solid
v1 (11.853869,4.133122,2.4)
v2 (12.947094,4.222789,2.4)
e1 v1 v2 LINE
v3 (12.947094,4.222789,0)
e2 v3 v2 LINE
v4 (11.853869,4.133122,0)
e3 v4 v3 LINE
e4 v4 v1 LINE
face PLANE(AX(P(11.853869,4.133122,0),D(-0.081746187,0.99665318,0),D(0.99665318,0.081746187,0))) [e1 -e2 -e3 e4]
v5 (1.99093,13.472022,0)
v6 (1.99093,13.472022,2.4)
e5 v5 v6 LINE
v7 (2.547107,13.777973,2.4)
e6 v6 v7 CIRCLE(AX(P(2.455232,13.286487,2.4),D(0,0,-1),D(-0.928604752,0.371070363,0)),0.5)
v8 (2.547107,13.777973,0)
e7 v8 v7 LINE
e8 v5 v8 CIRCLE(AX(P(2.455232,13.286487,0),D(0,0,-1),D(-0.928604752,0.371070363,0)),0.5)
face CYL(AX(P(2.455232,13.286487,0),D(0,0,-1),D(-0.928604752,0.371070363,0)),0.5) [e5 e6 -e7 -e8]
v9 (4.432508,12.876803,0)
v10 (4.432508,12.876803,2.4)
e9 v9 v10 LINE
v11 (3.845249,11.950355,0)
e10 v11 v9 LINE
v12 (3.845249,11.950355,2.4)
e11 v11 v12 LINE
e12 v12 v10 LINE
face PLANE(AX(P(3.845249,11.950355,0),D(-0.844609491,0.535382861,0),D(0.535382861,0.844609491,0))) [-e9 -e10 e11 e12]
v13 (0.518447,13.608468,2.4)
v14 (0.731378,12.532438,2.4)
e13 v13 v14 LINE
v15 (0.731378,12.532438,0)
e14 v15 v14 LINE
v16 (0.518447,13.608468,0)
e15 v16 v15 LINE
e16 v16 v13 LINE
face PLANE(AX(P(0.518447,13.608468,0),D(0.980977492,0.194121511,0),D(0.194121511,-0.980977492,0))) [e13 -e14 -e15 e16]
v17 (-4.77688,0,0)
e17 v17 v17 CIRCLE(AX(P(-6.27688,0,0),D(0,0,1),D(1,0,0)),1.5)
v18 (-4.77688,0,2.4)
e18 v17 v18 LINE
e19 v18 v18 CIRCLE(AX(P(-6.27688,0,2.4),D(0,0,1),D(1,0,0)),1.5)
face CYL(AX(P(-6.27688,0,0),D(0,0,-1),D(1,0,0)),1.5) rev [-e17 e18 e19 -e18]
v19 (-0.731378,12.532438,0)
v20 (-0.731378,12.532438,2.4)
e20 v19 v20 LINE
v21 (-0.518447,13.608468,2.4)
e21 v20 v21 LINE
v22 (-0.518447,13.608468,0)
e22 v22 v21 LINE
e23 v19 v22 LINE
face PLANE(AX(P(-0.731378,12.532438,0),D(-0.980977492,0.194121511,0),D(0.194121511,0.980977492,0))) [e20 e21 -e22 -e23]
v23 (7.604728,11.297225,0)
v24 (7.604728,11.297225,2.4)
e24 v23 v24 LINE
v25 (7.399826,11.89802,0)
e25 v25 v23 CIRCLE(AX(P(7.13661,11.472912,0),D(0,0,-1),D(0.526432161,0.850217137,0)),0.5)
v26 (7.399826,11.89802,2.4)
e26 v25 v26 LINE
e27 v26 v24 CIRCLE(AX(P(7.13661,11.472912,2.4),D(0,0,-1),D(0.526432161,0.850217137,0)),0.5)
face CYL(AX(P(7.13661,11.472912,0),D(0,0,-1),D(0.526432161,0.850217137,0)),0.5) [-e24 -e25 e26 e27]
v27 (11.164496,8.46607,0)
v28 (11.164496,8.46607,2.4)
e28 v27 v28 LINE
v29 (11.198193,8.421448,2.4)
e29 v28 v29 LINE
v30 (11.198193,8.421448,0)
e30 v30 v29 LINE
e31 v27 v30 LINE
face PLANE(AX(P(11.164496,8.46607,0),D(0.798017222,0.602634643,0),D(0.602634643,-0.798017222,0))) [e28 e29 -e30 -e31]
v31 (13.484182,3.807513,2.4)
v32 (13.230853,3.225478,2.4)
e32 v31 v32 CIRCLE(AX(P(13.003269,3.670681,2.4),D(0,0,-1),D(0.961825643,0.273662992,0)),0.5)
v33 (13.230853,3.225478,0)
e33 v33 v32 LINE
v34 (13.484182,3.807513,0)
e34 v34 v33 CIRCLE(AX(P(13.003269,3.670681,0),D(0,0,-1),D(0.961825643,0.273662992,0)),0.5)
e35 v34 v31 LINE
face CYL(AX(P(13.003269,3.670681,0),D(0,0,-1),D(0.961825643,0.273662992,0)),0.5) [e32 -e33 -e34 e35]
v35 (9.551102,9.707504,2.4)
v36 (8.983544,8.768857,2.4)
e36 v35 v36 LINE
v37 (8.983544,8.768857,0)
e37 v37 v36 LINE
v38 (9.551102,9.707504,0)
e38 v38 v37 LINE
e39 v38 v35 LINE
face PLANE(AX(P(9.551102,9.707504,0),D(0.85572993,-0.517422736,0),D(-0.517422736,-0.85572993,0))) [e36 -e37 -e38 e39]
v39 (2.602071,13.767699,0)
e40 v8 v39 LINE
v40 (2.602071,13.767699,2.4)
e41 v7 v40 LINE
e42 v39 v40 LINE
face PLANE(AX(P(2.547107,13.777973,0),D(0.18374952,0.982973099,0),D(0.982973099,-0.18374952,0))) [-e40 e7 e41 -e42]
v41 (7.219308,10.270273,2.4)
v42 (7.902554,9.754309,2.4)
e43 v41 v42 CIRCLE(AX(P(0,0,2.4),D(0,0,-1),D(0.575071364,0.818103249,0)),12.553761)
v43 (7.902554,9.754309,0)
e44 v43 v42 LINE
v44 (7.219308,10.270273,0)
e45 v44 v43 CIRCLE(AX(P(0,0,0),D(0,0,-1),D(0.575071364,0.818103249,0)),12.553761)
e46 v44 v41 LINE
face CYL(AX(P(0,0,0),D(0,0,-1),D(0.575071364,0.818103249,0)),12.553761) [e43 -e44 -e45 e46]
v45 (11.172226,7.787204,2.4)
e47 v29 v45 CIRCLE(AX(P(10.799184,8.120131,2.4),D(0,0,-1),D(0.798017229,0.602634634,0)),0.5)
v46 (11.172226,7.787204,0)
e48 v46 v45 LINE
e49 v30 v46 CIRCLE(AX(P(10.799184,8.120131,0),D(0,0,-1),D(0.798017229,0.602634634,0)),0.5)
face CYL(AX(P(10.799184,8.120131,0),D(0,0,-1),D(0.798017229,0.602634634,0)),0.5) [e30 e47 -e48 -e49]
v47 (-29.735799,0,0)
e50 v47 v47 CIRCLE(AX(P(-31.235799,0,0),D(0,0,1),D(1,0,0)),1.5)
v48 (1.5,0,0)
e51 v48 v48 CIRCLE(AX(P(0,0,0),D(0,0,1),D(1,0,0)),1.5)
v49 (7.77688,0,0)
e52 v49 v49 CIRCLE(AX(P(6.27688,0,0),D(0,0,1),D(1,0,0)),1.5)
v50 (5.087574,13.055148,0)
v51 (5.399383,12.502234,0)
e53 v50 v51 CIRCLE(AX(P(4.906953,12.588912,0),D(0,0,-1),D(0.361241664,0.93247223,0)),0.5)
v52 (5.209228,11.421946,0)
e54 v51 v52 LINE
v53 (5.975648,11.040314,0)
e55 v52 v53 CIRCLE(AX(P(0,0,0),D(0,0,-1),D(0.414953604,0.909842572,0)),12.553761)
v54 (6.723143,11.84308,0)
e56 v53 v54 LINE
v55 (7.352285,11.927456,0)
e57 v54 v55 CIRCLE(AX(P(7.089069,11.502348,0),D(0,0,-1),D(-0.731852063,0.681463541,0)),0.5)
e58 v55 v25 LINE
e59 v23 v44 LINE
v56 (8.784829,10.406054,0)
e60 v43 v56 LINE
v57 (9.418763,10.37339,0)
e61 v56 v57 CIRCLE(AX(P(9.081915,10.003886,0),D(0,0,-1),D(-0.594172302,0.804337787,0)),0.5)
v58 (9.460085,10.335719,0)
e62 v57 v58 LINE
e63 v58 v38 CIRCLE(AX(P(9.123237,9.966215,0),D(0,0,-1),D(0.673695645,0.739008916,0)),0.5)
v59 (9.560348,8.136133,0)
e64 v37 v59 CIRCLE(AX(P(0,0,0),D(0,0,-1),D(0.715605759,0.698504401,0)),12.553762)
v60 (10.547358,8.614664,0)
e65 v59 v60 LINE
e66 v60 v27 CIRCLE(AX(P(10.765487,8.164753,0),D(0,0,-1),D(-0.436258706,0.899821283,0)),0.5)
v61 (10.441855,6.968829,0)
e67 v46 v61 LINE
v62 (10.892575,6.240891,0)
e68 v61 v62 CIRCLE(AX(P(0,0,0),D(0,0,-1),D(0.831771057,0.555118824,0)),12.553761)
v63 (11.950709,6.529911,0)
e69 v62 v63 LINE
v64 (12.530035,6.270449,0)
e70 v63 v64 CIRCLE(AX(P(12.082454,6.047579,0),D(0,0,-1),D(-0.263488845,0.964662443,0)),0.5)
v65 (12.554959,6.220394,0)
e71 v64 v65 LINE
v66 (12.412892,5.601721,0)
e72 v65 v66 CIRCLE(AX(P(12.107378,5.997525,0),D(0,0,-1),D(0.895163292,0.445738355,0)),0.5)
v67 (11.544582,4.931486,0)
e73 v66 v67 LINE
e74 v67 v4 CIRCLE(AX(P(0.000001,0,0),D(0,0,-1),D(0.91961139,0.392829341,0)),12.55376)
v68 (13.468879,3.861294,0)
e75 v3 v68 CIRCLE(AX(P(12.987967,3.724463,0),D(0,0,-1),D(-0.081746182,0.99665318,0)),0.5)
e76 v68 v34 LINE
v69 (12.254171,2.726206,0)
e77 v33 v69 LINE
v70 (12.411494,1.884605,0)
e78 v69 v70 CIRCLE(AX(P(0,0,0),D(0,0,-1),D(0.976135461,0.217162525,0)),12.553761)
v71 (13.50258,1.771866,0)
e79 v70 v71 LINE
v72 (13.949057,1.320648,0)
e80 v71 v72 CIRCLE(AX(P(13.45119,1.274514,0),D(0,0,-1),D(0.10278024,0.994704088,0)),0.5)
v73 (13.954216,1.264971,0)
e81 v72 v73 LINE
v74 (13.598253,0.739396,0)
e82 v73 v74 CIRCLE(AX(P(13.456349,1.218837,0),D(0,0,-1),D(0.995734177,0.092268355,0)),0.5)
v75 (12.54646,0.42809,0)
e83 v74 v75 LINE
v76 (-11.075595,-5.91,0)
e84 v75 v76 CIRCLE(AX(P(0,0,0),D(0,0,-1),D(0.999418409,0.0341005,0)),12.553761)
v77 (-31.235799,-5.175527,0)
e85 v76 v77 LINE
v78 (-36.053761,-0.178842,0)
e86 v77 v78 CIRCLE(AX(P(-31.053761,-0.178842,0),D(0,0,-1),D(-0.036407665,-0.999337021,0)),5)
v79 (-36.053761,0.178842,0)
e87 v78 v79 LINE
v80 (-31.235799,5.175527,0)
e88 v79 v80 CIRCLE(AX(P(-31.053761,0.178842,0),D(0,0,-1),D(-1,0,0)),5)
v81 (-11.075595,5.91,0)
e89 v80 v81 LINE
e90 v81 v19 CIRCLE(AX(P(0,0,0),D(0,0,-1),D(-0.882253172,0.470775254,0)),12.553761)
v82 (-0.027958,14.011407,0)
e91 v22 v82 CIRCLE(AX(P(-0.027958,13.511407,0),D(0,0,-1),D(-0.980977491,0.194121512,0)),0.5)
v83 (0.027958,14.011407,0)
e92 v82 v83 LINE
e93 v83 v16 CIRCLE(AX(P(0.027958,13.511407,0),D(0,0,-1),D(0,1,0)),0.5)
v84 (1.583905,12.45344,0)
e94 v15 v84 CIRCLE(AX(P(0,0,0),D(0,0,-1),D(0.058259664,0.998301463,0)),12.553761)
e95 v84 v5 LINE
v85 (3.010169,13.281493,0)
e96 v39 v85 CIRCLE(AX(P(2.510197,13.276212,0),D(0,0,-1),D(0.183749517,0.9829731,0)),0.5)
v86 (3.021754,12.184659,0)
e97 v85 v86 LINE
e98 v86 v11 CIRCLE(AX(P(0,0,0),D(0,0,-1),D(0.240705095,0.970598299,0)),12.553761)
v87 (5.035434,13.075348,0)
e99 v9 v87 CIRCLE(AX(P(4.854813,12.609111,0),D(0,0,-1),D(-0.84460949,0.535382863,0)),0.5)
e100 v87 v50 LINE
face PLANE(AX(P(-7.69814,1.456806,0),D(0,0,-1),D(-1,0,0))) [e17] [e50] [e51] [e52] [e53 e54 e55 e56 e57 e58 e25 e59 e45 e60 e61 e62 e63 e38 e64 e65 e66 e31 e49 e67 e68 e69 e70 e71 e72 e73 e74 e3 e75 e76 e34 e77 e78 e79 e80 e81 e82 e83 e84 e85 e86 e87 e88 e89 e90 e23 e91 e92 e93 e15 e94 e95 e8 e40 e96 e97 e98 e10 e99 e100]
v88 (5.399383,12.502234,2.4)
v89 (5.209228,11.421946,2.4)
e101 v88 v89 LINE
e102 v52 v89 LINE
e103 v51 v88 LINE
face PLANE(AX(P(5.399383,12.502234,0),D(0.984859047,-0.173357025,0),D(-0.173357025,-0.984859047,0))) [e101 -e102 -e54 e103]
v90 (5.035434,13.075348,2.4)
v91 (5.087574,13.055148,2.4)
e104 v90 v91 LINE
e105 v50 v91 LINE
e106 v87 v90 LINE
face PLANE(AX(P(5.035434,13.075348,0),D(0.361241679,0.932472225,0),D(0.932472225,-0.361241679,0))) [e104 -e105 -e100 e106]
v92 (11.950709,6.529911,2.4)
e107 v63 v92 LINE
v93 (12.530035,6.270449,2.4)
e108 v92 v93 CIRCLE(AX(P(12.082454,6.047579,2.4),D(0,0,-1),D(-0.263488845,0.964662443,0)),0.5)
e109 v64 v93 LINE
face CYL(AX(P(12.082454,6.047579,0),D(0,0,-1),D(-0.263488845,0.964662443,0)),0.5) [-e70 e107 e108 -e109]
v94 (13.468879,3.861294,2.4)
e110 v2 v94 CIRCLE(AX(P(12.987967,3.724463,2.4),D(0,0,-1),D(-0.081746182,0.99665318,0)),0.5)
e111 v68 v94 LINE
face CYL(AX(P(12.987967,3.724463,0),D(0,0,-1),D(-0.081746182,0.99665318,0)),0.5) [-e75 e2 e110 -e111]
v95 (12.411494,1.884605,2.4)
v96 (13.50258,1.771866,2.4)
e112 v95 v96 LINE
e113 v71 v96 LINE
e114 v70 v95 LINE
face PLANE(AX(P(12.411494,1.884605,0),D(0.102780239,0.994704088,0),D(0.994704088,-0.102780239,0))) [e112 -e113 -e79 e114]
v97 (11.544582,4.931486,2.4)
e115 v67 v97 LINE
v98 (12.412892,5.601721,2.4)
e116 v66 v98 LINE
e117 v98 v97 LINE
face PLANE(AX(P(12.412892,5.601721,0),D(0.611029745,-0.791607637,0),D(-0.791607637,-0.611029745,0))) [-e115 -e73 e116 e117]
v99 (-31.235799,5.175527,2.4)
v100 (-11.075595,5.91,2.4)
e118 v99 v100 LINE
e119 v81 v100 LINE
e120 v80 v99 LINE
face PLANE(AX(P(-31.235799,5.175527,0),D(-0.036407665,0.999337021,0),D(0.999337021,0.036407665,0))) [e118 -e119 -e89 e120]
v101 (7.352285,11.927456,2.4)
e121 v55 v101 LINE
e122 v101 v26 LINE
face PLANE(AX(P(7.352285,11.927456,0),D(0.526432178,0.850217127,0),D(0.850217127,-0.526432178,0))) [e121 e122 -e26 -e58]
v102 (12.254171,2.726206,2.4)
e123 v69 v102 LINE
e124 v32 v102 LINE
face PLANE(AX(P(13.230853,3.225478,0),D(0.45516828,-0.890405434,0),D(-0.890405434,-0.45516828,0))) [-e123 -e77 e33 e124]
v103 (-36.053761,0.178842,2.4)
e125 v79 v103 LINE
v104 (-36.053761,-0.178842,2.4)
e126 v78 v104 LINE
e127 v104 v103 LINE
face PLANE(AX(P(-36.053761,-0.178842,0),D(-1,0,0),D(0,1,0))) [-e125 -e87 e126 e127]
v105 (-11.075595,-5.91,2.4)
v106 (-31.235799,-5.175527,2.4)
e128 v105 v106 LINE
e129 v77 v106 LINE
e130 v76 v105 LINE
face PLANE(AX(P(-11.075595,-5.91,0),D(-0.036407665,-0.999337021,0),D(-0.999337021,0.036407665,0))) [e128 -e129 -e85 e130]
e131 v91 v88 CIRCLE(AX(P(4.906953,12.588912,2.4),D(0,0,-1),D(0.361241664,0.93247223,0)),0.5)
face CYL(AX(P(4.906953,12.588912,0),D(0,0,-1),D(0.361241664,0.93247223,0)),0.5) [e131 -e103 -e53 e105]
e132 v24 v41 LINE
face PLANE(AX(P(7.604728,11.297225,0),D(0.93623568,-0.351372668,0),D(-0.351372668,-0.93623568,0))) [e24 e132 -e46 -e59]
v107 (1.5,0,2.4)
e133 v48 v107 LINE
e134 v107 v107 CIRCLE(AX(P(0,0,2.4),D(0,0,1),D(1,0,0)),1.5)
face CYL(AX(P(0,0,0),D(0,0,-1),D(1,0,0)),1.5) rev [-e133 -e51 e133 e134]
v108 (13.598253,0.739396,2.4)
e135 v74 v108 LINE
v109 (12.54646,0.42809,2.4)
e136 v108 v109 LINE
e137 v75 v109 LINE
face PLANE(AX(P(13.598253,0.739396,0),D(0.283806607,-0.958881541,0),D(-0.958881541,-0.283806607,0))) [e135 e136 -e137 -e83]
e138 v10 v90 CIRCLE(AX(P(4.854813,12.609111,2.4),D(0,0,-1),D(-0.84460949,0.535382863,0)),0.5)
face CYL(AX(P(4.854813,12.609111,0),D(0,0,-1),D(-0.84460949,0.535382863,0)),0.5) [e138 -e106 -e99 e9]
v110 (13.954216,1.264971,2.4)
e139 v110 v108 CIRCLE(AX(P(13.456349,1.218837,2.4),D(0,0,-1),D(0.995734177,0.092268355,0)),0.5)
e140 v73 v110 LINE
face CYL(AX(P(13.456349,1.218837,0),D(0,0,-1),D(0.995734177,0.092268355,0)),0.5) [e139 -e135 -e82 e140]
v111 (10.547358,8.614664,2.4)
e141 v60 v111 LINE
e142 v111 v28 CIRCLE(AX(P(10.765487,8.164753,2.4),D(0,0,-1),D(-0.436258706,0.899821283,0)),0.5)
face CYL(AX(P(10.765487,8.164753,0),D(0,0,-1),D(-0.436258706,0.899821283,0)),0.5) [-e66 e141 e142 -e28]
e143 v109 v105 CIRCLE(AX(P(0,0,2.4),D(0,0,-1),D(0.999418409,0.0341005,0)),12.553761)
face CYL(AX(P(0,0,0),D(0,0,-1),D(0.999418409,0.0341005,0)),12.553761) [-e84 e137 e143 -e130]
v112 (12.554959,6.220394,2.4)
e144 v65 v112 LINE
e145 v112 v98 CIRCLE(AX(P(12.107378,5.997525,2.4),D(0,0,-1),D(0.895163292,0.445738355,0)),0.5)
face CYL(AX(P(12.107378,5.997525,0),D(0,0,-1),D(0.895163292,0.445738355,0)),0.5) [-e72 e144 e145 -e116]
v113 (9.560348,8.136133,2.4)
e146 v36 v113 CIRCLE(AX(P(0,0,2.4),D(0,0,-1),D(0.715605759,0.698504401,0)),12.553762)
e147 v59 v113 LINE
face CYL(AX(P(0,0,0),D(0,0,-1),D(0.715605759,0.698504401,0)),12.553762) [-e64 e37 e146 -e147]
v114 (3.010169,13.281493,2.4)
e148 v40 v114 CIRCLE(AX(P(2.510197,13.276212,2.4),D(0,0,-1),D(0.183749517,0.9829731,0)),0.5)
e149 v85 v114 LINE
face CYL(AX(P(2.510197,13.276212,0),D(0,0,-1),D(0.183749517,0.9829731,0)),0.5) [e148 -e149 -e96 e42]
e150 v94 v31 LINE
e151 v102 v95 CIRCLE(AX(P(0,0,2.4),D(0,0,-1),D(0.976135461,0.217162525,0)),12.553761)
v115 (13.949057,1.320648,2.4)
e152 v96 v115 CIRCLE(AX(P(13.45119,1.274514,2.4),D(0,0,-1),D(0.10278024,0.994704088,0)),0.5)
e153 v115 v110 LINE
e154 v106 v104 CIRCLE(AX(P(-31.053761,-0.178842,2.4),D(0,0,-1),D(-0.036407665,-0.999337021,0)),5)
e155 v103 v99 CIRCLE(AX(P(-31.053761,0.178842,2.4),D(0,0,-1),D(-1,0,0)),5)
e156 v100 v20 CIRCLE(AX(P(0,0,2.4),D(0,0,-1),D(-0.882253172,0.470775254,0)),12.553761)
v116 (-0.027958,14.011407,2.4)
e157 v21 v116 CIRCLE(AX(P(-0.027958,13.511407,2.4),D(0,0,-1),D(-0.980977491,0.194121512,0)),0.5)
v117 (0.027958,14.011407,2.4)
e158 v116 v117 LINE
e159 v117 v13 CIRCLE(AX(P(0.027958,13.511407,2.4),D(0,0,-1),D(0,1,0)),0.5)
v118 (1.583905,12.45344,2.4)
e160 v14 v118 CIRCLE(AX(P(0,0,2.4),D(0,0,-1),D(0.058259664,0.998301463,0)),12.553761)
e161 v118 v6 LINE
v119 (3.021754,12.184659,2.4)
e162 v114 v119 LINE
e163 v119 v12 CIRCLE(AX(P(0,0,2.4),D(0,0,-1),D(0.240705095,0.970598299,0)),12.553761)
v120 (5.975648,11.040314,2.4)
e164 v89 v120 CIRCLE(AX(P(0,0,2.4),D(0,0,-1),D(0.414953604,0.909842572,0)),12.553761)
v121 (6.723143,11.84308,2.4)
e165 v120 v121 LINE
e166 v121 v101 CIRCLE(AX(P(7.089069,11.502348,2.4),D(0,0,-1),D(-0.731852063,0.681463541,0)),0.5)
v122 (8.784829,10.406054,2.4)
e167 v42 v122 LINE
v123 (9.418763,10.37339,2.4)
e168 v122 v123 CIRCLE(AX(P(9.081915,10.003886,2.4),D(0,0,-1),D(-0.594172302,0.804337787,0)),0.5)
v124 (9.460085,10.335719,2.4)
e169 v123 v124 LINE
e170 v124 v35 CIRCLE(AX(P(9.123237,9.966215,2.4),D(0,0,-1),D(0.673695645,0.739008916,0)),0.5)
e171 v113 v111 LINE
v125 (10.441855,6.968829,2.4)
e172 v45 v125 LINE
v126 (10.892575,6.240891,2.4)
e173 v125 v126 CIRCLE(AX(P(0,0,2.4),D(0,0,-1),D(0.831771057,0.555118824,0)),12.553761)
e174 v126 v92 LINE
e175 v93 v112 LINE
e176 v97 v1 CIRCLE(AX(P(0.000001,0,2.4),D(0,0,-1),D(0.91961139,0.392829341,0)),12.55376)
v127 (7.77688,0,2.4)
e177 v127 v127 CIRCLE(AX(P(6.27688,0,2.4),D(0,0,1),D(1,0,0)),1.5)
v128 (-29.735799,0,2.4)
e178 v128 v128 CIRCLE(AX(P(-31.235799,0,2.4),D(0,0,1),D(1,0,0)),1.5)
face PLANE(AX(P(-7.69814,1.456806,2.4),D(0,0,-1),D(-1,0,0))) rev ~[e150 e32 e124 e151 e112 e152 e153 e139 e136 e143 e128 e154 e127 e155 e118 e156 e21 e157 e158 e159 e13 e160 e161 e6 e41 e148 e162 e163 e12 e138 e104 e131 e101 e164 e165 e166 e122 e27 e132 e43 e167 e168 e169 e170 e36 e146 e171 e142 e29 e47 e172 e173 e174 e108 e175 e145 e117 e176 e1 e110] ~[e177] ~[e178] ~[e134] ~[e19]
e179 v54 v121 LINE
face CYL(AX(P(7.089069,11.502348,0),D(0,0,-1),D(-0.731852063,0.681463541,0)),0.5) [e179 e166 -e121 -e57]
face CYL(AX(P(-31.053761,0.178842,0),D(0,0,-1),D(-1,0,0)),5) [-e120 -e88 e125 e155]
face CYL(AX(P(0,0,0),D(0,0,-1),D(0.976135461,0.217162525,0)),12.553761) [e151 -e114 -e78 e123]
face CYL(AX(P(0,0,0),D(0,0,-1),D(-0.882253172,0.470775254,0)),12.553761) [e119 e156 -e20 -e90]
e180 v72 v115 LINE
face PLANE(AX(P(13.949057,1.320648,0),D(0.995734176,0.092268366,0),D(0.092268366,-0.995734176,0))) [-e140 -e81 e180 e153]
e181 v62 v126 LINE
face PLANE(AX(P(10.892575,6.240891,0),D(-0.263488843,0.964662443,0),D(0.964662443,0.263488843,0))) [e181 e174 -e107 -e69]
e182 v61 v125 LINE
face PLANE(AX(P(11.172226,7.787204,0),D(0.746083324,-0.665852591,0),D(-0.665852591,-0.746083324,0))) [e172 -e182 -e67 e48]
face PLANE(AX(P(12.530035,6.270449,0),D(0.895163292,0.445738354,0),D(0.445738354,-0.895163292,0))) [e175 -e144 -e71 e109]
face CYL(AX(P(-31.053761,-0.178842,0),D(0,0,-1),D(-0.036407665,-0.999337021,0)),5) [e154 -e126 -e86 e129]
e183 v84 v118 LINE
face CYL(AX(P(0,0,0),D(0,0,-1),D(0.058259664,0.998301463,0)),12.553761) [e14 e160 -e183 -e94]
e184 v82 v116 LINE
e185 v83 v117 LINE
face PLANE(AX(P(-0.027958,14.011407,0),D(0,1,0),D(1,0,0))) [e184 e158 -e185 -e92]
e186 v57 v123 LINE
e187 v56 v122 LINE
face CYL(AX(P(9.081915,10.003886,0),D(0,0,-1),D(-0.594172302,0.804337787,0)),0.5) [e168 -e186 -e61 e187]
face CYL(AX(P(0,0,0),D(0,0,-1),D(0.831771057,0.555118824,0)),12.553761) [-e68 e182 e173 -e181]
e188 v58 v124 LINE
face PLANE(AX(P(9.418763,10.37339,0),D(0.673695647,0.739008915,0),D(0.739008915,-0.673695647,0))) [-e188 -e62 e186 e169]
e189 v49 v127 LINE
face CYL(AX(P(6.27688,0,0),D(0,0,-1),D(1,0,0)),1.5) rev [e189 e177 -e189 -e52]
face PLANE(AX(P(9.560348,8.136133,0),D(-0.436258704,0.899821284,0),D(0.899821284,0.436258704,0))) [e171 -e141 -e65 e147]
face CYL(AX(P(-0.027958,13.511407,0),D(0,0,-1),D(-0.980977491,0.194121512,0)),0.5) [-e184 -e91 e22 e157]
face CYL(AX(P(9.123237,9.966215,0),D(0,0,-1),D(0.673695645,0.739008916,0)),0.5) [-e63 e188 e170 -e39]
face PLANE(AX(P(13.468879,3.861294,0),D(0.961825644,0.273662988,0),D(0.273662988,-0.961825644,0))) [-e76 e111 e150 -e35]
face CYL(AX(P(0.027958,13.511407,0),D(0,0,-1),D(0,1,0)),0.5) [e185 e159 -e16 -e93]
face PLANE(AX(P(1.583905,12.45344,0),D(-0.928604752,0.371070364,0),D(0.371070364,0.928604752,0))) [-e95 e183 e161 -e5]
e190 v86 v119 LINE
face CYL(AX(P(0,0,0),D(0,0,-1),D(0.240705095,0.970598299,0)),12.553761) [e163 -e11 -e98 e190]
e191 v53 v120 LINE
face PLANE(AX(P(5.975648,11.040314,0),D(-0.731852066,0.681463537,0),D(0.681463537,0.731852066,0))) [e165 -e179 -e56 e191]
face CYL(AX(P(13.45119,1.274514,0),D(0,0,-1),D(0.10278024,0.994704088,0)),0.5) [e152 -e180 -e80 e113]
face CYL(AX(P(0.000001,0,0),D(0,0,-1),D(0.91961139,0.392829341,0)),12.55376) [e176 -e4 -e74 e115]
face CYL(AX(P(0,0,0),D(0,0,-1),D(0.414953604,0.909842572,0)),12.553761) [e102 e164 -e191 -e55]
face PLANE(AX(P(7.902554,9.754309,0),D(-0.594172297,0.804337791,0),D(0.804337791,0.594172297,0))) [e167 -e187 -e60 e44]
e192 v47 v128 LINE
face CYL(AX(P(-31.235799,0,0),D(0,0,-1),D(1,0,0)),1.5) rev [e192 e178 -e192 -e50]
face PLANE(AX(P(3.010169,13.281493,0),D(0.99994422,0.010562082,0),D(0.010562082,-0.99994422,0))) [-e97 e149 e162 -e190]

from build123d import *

# Parameters (mm, degrees)
SKETCH1_R           = 1.5
BOSS_EXTRUDE1_DEPTH = 2.4


with BuildPart() as part:
    # Sketch1 → Boss-Extrude1 (new body)
    with BuildSketch(Plane.XY):
        with BuildLine():
            Line((2.547107201, 13.777973489), (2.60207137, 13.767698905))
            ThreePointArc((2.60207137, 13.767698905), (2.893171321, 13.597662774), (3.010168721, 13.281493396))
            Line((3.010168721, 13.281493396), (3.021754222, 12.184659018))
            ThreePointArc((3.021754222, 12.184659018), (3.435499758, 12.074529199), (3.845249182, 11.950354501))
            Line((3.845249182, 11.950354501), (4.432508267, 12.876802904))
            ThreePointArc((4.432508267, 12.876802904), (4.698423191, 13.084024332), (5.035433845, 13.075347588))
            Line((5.035433845, 13.075347588), (5.087574195, 13.055148308))
            ThreePointArc((5.087574195, 13.055148308), (5.342473559, 12.83451789), (5.399382885, 12.502233681))
            Line((5.399382885, 12.502233681), (5.209228333, 11.421946163))
            ThreePointArc((5.209228333, 11.421946163), (5.595692764, 11.23766597), (5.975648384, 11.040314323))
            Line((5.975648384, 11.040314323), (6.723142715, 11.843079608))
            ThreePointArc((6.723142715, 11.843079608), (7.02260677, 11.997910958), (7.35228483, 11.927456407))
            Line((7.35228483, 11.927456407), (7.399825783, 11.898020294))
            ThreePointArc((7.399825783, 11.898020294), (7.609844268, 11.634308893), (7.604727542, 11.297225393))
            Line((7.604727542, 11.297225393), (7.219308422, 10.27027263))
            ThreePointArc((7.219308422, 10.27027263), (7.565331165, 10.018117505), (7.902554048, 9.754309483))
            Line((7.902554048, 9.754309483), (8.784828602, 10.406054439))
            ThreePointArc((8.784828602, 10.406054439), (9.107643898, 10.503223117), (9.418762572, 10.373390003))
            Line((9.418762572, 10.373390003), (9.460085179, 10.335719469))
            ThreePointArc((9.460085179, 10.335719469), (9.618070857, 10.03790746), (9.551102323, 9.707503643))
            Line((9.551102323, 9.707503643), (8.98354362, 8.76885728))
            ThreePointArc((8.98354362, 8.76885728), (9.277341286, 8.457414063), (9.560347713, 8.136133332))
            Line((9.560347713, 8.136133332), (10.547357686, 8.614663568))
            ThreePointArc((10.547357686, 8.614663568), (10.882531136, 8.650860609), (11.164495652, 8.466070244))
            Line((11.164495652, 8.466070244), (11.198192721, 8.421448114))
            ThreePointArc((11.198192721, 8.421448114), (11.298765579, 8.099677128), (11.172225769, 7.7872045))
            Line((11.172225769, 7.7872045), (10.441855016, 6.968829012))
            ThreePointArc((10.441855016, 6.968829012), (10.673422677, 6.608703529), (10.892575202, 6.240890918))
            Line((10.892575202, 6.240890918), (11.950709155, 6.529910661))
            ThreePointArc((11.950709155, 6.529910661), (12.286826829, 6.503903419), (12.530035223, 6.270448618))
            Line((12.530035223, 6.270448618), (12.55495924, 6.220394444))
            ThreePointArc((12.55495924, 6.220394444), (12.594694391, 5.885622006), (12.412892467, 5.601721447))
            Line((12.412892467, 5.601721447), (11.544581562, 4.931485631))
            ThreePointArc((11.544581562, 4.931485631), (11.70603346, 4.534941522), (11.853869106, 4.133122449))
            Line((11.853869106, 4.133122449), (12.947093557, 4.222789479))
            ThreePointArc((12.947093557, 4.222789479), (13.27270937, 4.135463598), (13.468879472, 3.861294384))
            Line((13.468879472, 3.861294384), (13.48418168, 3.807512701))
            ThreePointArc((13.48418168, 3.807512701), (13.461725991, 3.471139085), (13.230852999, 3.225478489))
            Line((13.230852999, 3.225478489), (12.254171229, 2.726206422))
            ThreePointArc((12.254171229, 2.726206422), (12.340009313, 2.306747521), (12.411493716, 1.884605453))
            Line((12.411493716, 1.884605453), (13.502580216, 1.771866265))
            ThreePointArc((13.502580216, 1.771866265), (13.806605713, 1.626195525), (13.949057185, 1.320648401))
            Line((13.949057185, 1.320648401), (13.954216486, 1.26497068))
            ThreePointArc((13.954216486, 1.26497068), (13.870334657, 0.938450687), (13.598252701, 0.73939573))
            Line((13.598252701, 0.73939573), (12.546459793, 0.428089522))
            ThreePointArc((12.546459793, 0.428089522), (3.253260702, -12.124900362), (-11.075595423, -5.91))
            Line((-11.075595423, -5.91), (-31.235799276, -5.175527107))
            ThreePointArc((-31.235799276, -5.175527107), (-34.653079748, -3.649418925), (-36.053760949, -0.178842001))
            Line((-36.053760949, -0.178842001), (-36.053760949, 0.178842001))
            ThreePointArc((-36.053760949, 0.178842001), (-34.653079748, 3.649418925), (-31.235799276, 5.175527107))
            Line((-31.235799276, 5.175527107), (-11.075595423, 5.91))
            ThreePointArc((-11.075595423, 5.91), (-6.768701925, 10.572681222), (-0.731377895, 12.532437925))
            Line((-0.731377895, 12.532437925), (-0.518446871, 13.608467783))
            ThreePointArc((-0.518446871, 13.608467783), (-0.345345603, 13.89775556), (-0.027958125, 14.011407027))
            Line((-0.027958125, 14.011407027), (0.027958125, 14.011407027))
            ThreePointArc((0.027958125, 14.011407027), (0.345345603, 13.89775556), (0.518446871, 13.608467783))
            Line((0.518446871, 13.608467783), (0.731377895, 12.532437925))
            ThreePointArc((0.731377895, 12.532437925), (1.158314928, 12.500208818), (1.58390463, 12.453439689))
            Line((1.58390463, 12.453439689), (1.990930066, 13.472022121))
            ThreePointArc((1.990930066, 13.472022121), (2.214240445, 13.72457695), (2.547107201, 13.777973489))
        make_face()
        with Locations((6.276880475, 0)):
            Circle(SKETCH1_R, mode=Mode.SUBTRACT)
        with Locations((-6.276880475, 0)):
            Circle(SKETCH1_R, mode=Mode.SUBTRACT)
        Circle(SKETCH1_R, mode=Mode.SUBTRACT)
        with Locations((-31.235799276, 0)):
            Circle(SKETCH1_R, mode=Mode.SUBTRACT)
    extrude(amount=BOSS_EXTRUDE1_DEPTH)


solid = part.part
